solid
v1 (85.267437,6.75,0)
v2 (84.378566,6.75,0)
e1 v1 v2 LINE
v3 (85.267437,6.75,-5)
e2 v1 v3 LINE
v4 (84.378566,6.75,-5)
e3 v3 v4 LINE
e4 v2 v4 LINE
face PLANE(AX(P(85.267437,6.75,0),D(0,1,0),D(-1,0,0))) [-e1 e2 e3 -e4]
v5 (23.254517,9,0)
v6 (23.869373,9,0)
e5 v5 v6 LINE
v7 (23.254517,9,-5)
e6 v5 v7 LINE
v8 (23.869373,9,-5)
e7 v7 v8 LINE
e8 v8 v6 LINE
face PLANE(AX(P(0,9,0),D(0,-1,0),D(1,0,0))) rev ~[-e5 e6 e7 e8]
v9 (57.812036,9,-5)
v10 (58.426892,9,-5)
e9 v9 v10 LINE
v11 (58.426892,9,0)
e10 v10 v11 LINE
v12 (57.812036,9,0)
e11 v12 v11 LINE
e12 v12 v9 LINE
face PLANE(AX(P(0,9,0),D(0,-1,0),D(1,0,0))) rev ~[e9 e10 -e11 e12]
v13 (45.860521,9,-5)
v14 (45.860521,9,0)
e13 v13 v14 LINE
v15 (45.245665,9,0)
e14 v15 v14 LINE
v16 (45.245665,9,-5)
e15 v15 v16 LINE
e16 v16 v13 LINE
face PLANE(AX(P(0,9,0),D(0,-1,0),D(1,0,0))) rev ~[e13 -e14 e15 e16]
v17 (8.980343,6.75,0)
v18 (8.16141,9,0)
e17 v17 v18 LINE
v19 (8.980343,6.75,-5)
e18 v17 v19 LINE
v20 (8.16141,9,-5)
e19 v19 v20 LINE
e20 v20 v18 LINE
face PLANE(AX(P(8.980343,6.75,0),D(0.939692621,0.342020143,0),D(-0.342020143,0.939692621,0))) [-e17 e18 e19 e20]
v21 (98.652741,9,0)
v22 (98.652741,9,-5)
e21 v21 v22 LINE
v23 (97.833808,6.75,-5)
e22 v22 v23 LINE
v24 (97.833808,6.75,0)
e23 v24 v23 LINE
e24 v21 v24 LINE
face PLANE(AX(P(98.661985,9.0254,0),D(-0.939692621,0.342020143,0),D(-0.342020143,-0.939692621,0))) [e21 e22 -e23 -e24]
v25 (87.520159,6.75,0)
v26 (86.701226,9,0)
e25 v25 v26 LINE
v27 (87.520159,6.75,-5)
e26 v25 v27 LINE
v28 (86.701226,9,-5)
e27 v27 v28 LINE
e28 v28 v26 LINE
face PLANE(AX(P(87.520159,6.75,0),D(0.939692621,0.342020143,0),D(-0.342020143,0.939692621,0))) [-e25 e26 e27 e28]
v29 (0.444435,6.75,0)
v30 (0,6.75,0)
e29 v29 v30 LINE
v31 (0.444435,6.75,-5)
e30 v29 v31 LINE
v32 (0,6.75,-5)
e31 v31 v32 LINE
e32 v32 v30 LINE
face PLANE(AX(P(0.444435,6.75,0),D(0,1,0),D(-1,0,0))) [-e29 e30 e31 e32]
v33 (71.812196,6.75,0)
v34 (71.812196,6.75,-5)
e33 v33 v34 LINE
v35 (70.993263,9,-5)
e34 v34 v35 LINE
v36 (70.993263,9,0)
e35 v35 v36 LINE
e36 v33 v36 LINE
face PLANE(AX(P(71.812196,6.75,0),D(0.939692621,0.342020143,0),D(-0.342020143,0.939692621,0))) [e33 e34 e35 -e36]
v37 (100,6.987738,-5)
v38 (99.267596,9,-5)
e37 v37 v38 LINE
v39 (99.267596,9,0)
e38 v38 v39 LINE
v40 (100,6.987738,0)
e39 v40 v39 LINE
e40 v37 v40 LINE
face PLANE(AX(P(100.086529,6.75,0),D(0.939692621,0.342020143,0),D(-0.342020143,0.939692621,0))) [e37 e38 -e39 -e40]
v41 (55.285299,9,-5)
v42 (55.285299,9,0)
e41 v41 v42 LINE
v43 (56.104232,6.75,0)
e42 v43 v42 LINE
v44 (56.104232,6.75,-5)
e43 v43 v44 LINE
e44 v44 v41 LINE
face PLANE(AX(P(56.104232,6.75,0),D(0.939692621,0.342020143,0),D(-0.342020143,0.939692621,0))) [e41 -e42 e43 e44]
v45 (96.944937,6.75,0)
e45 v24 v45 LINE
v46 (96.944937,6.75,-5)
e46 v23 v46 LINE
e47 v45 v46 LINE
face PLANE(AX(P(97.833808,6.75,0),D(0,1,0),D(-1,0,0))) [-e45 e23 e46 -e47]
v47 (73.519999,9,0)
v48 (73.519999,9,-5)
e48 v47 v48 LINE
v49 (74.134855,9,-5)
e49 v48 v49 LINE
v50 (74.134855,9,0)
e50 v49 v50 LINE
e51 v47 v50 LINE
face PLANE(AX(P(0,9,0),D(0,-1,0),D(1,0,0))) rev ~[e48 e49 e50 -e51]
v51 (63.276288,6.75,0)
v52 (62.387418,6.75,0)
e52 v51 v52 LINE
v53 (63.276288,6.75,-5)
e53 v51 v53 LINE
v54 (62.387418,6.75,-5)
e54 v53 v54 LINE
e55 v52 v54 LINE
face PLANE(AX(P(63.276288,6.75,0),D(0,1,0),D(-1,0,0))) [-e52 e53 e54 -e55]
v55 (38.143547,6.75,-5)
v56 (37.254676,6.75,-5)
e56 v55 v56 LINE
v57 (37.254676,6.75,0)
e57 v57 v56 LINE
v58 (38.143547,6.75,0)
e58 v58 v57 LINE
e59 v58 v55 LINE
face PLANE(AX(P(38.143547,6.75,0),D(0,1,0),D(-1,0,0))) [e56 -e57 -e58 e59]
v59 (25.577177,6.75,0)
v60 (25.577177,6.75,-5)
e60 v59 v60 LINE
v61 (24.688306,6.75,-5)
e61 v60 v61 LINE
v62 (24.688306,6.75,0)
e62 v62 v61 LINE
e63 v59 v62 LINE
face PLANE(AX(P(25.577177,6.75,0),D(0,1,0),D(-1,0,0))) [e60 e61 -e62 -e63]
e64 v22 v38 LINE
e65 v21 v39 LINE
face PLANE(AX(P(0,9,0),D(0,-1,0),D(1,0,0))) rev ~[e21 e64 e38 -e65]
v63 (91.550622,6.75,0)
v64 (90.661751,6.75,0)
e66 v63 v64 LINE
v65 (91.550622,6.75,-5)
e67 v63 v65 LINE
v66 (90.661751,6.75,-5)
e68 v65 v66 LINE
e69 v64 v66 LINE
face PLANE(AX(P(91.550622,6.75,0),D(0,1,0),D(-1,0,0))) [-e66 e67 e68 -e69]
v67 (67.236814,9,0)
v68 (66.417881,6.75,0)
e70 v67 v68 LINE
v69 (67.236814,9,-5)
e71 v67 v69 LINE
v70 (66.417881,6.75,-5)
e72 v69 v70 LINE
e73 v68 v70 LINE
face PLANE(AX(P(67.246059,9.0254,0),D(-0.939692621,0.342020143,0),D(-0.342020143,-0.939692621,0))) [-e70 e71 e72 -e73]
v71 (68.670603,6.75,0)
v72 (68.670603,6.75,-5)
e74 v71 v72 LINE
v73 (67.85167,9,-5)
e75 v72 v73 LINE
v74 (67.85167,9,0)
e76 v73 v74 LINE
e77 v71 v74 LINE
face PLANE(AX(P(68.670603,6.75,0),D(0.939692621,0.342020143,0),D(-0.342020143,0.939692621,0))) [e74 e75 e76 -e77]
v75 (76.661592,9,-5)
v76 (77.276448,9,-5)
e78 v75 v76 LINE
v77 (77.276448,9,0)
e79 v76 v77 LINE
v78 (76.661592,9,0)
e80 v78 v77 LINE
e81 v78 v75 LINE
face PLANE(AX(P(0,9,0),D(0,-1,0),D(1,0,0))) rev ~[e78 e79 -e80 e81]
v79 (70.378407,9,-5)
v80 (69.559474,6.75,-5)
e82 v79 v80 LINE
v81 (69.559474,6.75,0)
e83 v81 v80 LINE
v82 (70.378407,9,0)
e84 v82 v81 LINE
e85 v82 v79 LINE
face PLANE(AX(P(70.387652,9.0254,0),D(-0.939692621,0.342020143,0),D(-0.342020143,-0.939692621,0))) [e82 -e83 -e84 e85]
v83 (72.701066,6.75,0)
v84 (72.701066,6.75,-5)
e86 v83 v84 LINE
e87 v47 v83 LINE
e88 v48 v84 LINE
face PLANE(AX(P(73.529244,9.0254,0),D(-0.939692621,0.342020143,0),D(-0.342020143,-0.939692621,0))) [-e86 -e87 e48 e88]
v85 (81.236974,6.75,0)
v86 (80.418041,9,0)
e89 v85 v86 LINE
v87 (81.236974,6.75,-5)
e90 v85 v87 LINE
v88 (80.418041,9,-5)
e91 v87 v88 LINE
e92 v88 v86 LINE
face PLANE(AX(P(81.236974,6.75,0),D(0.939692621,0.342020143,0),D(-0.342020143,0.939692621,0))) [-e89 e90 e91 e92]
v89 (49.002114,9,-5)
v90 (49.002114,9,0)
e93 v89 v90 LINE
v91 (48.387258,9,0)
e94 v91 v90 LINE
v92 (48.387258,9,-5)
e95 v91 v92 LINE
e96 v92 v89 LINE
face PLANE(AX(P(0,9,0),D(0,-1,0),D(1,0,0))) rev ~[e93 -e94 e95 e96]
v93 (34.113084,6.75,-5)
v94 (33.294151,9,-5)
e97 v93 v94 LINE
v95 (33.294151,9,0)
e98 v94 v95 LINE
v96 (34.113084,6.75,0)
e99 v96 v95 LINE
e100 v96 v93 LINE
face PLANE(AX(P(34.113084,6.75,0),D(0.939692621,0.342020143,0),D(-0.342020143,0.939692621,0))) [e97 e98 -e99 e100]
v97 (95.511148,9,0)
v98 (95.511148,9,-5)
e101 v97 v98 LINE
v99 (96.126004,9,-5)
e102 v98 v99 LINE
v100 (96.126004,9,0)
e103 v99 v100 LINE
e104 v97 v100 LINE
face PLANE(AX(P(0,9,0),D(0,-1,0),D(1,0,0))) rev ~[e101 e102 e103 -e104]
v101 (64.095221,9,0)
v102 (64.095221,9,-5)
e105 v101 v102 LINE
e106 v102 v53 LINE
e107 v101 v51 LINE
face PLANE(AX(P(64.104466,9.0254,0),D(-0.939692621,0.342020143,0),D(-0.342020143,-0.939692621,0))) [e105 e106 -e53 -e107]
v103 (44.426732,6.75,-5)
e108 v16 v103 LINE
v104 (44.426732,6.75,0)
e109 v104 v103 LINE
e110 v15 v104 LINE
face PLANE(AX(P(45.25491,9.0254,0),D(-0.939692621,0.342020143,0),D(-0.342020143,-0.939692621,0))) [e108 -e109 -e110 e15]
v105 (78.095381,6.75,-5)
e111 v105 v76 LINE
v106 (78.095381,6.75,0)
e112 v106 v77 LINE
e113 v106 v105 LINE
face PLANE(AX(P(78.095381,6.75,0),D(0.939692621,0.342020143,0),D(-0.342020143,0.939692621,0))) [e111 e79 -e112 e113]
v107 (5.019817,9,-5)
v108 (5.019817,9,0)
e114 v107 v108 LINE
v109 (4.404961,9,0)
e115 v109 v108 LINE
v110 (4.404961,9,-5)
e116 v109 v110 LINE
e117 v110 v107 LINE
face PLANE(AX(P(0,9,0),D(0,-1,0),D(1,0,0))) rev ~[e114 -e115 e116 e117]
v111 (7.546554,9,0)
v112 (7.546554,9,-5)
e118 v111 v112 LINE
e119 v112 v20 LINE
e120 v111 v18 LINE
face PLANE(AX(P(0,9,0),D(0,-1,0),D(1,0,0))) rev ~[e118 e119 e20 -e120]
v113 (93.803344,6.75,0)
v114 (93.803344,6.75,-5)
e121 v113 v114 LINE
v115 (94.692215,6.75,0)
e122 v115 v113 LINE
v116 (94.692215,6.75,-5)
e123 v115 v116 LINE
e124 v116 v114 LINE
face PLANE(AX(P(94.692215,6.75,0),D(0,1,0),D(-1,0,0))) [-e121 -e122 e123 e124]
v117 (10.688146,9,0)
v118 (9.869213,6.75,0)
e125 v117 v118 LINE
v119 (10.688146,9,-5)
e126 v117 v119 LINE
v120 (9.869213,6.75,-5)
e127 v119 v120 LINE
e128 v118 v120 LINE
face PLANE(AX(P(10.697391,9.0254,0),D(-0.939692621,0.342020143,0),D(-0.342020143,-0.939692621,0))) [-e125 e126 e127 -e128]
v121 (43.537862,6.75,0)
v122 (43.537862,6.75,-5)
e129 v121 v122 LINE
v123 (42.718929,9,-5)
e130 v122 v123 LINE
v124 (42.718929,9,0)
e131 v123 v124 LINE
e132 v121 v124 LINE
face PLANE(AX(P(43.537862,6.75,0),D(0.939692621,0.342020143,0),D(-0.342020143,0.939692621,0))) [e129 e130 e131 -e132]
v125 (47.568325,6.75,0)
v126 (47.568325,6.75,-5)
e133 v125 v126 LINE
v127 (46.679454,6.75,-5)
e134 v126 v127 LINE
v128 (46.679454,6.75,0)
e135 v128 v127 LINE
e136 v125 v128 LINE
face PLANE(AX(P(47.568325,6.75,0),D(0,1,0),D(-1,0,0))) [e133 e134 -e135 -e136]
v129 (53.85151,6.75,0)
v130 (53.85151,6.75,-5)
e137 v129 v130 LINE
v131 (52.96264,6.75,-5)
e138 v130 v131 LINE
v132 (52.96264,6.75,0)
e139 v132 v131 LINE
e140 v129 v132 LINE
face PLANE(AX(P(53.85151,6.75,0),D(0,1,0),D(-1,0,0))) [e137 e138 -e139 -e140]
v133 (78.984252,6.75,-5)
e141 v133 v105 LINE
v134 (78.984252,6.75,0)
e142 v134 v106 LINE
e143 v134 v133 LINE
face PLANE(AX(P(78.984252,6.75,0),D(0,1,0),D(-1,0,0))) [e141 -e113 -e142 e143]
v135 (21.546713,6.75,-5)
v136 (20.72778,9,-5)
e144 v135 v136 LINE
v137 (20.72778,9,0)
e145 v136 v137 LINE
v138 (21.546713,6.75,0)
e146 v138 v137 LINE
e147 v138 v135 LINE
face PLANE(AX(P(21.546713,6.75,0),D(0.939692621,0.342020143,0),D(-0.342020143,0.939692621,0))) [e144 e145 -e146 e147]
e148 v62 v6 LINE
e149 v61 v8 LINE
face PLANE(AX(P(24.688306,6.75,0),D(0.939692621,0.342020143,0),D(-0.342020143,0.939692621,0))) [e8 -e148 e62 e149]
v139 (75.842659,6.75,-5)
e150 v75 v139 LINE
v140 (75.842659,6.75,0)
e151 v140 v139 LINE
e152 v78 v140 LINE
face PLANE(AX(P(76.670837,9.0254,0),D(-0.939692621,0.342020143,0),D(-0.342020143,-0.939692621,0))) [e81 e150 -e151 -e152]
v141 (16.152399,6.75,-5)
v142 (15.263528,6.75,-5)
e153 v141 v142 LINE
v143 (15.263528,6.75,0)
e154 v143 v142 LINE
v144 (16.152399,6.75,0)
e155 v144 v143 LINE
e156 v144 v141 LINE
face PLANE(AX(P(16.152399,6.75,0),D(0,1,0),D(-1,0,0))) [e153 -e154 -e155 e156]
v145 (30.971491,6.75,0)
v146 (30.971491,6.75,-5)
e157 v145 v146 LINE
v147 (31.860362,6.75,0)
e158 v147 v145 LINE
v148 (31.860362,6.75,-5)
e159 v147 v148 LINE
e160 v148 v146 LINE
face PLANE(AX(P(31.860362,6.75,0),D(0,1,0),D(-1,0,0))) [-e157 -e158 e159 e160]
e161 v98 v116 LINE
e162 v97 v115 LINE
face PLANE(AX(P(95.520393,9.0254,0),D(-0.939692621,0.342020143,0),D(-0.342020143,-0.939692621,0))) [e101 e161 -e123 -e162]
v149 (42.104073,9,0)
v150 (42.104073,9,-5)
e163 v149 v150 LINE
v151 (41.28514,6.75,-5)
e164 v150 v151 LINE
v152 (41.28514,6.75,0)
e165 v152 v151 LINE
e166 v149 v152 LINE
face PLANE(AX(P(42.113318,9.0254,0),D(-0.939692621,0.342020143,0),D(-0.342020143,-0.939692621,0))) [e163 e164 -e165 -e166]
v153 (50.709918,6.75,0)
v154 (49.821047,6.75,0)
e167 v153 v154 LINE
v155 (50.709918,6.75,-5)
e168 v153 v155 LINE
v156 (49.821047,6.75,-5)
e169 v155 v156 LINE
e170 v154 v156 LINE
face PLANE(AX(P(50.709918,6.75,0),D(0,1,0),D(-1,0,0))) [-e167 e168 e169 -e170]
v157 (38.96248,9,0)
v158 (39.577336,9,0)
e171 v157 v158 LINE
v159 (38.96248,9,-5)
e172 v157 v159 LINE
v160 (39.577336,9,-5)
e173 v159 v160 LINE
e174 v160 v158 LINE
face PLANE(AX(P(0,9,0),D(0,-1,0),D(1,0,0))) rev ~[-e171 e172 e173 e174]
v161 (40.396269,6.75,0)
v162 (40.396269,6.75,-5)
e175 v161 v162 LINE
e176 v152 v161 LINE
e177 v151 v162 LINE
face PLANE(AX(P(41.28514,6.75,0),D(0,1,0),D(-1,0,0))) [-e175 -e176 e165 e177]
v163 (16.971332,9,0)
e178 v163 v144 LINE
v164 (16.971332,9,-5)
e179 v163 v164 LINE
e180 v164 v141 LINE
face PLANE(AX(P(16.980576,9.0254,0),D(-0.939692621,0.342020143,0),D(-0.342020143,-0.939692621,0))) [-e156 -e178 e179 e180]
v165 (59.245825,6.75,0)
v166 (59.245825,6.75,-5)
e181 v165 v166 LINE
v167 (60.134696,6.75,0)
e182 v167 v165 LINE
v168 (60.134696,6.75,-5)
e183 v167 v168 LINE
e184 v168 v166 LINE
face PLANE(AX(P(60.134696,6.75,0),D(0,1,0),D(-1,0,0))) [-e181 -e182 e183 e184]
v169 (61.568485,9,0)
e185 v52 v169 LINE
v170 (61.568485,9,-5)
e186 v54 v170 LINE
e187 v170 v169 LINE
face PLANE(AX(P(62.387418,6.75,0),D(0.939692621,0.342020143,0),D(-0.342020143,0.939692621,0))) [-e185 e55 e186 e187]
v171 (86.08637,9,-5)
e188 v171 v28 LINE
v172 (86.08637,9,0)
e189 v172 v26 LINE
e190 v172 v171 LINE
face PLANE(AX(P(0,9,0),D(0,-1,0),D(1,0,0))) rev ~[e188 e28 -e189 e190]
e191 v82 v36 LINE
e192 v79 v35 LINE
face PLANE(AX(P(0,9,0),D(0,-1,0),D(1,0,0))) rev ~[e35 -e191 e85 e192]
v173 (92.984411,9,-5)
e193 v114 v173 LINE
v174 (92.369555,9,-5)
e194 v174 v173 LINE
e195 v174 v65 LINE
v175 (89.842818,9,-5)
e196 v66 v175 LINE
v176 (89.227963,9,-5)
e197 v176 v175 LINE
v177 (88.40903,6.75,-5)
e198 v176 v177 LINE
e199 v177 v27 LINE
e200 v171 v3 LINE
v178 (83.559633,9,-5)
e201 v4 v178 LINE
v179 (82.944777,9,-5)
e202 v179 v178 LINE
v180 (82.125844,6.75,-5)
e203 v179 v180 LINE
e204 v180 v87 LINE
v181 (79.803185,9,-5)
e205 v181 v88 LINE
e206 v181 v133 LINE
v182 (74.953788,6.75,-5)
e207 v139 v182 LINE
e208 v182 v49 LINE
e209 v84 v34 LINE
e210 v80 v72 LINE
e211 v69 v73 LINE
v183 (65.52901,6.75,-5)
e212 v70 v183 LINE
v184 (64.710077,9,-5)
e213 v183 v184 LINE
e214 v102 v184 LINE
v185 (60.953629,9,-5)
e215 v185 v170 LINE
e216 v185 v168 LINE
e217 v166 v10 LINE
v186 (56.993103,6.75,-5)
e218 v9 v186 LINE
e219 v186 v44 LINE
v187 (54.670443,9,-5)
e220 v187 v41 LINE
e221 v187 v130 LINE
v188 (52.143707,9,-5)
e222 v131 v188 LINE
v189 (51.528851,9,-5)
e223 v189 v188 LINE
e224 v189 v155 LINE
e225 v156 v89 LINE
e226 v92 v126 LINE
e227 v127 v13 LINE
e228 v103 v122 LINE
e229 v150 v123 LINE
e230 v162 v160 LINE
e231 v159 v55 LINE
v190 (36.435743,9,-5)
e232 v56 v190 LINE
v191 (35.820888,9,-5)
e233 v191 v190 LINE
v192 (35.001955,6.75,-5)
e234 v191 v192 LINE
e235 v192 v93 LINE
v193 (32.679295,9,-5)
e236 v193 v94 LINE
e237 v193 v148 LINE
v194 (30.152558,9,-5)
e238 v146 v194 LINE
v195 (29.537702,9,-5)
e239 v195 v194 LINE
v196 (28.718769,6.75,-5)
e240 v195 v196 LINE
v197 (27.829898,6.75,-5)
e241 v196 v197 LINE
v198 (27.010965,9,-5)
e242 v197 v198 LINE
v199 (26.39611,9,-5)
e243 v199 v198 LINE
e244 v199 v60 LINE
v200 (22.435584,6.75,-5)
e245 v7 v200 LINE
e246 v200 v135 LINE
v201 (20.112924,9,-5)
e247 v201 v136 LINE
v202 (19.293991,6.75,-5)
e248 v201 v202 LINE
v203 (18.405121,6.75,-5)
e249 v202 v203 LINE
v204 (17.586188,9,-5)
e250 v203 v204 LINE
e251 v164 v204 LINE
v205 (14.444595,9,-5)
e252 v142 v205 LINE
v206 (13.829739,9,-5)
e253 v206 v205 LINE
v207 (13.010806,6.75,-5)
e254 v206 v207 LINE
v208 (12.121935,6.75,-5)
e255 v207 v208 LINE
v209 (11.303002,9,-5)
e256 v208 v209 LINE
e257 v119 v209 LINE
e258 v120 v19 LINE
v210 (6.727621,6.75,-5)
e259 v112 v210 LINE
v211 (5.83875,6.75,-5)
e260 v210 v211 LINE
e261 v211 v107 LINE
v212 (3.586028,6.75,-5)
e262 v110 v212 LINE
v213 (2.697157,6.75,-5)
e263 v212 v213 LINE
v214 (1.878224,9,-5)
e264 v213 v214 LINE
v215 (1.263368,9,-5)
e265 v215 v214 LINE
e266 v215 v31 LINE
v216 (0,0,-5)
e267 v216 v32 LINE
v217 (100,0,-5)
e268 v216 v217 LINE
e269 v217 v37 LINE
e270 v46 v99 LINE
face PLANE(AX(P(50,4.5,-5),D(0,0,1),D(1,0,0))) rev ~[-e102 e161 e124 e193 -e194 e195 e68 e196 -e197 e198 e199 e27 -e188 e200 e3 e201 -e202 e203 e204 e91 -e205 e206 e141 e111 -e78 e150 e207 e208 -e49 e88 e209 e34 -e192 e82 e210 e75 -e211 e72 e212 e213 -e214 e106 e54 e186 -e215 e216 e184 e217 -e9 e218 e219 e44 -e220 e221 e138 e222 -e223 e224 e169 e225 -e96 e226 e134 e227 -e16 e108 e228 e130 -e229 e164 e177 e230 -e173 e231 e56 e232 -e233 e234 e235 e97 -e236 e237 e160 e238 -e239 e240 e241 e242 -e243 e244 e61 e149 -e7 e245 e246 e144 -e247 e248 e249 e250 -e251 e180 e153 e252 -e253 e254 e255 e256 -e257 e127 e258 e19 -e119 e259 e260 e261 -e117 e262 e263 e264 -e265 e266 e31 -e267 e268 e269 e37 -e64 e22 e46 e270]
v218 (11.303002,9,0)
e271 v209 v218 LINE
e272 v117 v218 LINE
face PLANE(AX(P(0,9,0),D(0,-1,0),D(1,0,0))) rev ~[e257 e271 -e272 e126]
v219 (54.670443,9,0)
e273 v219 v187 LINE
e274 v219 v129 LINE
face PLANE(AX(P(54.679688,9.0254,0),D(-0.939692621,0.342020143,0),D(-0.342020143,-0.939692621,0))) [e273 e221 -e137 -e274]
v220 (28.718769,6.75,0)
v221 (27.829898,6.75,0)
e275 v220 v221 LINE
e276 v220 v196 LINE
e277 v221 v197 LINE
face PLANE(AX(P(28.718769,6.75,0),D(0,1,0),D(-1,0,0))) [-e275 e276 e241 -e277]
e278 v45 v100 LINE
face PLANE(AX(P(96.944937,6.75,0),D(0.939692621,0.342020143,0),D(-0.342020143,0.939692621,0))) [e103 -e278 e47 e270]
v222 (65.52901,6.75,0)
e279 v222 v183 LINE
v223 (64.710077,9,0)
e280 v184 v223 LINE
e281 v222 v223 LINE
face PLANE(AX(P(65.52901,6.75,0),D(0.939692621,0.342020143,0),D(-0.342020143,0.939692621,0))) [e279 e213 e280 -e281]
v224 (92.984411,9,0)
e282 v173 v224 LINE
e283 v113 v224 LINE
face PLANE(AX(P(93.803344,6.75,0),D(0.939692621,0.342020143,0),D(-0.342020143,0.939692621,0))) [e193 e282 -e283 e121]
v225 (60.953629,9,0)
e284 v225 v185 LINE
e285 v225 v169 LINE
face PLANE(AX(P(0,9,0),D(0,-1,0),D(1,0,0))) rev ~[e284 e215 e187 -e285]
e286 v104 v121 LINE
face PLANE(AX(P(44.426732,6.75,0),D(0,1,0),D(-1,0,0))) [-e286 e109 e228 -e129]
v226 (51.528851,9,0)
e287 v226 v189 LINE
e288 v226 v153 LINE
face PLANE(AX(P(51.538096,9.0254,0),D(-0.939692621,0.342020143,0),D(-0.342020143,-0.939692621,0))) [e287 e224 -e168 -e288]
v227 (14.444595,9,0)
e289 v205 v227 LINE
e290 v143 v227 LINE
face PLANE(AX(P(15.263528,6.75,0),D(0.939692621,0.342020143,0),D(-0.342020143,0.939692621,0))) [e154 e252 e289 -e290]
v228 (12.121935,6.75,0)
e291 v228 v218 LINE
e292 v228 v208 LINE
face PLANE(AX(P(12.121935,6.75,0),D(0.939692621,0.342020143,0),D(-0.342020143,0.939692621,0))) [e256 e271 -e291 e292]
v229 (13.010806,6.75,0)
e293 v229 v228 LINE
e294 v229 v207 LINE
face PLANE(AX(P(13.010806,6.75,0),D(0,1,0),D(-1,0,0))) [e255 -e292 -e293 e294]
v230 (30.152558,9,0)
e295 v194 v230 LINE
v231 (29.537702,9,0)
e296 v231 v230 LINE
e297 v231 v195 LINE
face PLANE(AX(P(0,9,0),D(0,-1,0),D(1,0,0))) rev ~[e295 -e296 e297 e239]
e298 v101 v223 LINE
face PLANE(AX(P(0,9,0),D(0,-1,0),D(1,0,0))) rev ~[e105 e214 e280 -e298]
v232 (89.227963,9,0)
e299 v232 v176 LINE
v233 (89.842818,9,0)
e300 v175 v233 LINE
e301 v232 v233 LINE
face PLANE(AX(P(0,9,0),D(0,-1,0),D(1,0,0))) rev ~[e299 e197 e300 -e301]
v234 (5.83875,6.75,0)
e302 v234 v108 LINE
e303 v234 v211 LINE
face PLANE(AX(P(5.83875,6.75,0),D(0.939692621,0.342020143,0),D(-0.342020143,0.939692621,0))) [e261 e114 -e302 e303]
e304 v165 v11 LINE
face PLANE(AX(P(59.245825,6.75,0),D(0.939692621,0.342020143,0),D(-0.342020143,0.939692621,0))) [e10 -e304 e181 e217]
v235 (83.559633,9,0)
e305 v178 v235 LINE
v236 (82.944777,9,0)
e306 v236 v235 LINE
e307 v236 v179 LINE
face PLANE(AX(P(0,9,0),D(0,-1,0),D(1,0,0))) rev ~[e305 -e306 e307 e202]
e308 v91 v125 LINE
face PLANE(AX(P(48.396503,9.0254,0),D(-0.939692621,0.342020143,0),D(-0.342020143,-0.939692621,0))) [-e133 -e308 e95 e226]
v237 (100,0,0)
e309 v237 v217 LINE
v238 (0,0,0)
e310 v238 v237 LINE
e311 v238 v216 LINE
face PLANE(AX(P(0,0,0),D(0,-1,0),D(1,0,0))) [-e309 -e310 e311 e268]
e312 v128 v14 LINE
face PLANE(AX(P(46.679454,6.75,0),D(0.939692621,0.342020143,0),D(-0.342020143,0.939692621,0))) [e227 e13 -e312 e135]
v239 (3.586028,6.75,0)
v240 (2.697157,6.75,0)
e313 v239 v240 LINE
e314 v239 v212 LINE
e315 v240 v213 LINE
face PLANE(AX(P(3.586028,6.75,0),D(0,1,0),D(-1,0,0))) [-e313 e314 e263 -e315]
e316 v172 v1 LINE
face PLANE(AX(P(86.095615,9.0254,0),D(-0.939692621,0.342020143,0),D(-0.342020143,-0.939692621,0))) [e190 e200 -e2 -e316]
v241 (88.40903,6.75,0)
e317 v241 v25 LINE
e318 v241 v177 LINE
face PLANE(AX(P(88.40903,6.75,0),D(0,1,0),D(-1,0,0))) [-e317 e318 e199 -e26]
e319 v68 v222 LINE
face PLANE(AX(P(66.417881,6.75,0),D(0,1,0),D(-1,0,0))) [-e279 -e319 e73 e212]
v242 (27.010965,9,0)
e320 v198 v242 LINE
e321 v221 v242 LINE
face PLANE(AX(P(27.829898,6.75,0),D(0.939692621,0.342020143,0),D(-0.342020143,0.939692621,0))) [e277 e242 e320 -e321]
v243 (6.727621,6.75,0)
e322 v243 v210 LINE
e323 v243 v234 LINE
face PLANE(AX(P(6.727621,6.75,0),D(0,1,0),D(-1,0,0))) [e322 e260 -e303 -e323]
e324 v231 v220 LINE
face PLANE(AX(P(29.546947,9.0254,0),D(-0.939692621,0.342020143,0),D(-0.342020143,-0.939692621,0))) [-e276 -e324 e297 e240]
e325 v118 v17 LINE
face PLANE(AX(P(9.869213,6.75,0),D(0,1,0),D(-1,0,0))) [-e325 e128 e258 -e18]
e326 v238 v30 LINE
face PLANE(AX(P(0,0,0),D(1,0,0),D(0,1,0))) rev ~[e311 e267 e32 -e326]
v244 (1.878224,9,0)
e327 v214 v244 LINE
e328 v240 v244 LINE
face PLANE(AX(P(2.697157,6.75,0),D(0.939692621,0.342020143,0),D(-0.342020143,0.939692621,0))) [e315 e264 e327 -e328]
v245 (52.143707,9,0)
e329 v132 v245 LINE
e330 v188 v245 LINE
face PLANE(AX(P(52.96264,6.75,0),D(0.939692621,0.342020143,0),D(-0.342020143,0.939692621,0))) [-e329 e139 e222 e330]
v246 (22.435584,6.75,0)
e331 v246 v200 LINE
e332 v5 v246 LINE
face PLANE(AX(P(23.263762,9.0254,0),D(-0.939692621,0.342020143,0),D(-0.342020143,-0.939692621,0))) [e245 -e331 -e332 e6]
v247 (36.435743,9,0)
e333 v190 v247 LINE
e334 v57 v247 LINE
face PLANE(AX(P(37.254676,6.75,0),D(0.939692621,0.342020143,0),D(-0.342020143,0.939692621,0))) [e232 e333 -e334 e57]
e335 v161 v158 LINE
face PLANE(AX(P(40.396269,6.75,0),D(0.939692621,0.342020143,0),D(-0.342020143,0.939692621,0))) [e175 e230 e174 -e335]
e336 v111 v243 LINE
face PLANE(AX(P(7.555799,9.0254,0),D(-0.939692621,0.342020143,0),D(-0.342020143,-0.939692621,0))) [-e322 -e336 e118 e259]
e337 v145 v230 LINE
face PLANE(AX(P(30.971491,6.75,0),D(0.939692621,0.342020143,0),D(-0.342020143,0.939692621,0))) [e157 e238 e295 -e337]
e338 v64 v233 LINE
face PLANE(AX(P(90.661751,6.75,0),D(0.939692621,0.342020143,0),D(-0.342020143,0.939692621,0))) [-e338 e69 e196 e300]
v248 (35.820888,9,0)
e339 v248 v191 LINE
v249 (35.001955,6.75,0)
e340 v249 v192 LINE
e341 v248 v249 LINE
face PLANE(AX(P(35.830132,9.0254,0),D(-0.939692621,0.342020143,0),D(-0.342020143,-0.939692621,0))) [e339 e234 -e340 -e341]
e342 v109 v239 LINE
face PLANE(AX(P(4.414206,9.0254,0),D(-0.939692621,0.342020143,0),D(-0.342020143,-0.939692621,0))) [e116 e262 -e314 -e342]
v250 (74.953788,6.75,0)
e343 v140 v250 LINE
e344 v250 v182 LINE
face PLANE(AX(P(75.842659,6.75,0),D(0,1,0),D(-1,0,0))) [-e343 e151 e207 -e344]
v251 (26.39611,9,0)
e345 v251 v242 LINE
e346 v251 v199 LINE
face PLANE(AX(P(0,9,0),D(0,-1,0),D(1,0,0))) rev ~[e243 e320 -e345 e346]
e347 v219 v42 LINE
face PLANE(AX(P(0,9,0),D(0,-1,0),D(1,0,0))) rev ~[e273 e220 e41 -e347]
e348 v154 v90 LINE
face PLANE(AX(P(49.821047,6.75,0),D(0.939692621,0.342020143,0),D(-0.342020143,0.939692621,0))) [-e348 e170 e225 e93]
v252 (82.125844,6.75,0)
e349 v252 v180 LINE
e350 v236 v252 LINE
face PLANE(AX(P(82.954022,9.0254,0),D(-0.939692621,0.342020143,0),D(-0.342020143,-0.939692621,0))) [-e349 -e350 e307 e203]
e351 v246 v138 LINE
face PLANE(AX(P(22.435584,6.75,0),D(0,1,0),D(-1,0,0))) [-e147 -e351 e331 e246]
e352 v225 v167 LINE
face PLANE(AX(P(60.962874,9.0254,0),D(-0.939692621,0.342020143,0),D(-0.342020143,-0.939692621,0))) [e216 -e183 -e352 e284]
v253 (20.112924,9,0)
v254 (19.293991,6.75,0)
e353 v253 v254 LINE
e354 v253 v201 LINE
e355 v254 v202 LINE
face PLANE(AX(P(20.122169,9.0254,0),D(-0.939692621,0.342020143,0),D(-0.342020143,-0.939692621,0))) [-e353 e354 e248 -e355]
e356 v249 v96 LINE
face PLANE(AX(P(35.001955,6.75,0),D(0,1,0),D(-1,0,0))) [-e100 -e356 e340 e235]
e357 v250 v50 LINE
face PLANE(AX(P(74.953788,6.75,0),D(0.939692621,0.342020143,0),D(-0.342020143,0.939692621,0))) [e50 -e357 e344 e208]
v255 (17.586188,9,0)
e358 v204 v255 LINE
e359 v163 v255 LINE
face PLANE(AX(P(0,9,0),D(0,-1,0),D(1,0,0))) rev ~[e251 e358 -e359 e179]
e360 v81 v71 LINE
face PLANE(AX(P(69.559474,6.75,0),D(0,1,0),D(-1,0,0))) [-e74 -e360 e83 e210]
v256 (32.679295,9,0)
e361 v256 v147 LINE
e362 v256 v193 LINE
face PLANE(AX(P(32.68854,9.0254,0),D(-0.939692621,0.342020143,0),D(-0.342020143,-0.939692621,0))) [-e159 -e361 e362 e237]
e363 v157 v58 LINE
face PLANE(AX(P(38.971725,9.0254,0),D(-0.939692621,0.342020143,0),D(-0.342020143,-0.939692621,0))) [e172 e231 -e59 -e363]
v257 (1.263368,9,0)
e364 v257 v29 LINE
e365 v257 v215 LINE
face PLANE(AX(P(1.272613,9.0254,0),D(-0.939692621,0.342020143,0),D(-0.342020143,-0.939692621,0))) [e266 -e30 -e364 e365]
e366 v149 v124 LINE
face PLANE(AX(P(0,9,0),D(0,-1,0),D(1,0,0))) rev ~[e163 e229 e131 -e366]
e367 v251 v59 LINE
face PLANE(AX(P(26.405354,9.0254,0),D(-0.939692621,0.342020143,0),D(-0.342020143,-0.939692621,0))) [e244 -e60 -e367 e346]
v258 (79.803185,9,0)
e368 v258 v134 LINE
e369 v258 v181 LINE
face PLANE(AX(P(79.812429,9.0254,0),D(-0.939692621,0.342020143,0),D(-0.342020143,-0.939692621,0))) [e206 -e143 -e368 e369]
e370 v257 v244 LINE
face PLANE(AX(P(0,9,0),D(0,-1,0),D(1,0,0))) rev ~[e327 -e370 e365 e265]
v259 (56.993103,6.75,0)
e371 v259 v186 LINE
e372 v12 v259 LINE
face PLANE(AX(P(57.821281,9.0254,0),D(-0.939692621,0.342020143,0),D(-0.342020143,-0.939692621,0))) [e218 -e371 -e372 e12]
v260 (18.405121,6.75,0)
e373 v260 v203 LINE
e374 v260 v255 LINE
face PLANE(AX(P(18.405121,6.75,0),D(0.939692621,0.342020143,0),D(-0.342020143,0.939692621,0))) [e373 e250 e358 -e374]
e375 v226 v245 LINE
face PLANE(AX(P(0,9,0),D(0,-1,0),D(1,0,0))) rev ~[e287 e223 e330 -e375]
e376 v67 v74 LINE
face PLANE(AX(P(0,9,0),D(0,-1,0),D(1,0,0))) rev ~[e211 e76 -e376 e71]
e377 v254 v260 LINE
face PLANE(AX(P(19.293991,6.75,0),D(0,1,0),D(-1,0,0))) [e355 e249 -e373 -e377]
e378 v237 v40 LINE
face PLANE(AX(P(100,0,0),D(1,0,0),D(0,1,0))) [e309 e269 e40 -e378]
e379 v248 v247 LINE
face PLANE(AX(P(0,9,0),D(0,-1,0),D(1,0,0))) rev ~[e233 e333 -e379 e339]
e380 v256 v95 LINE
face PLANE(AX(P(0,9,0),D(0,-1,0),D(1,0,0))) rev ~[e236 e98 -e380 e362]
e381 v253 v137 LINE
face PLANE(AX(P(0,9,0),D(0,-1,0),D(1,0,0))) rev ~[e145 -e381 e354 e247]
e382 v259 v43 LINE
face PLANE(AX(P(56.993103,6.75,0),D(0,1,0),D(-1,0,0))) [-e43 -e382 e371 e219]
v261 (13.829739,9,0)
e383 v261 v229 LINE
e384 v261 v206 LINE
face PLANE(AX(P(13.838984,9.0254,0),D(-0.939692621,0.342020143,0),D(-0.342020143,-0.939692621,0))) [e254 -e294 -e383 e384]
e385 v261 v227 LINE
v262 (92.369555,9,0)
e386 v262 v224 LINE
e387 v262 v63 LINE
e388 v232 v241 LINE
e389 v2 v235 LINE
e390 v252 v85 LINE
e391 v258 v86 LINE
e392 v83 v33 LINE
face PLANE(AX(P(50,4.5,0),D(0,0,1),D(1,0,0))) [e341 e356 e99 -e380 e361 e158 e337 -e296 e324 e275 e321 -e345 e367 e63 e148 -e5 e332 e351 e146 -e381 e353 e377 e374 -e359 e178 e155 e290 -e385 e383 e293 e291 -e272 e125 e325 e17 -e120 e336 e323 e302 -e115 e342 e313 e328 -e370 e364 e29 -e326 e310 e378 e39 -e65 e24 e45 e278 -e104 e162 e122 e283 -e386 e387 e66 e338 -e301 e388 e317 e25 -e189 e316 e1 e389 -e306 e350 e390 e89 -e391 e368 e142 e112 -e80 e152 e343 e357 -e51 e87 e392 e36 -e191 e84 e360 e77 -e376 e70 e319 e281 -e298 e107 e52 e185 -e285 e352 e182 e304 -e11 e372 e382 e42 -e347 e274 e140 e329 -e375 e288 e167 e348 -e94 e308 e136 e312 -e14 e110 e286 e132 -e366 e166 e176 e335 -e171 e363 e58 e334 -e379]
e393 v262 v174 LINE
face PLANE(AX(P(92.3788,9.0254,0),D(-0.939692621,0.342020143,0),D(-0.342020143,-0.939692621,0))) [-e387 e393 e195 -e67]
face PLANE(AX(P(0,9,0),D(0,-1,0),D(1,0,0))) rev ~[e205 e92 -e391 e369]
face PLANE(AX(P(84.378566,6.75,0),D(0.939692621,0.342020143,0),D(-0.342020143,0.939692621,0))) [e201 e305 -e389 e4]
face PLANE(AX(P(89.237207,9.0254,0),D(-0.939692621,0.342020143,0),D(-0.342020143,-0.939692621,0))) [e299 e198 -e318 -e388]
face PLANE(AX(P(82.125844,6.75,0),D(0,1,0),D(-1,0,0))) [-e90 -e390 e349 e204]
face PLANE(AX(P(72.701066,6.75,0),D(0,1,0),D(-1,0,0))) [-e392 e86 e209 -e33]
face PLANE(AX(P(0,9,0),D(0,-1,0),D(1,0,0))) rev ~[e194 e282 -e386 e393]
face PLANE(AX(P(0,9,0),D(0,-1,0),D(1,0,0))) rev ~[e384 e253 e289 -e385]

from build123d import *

# Parameters (mm, degrees)
BLANKSKE_W        = 100
BLANKSKE_H        = 9
BLANK_DEPTH       = 5
TOOTHCUTSIM_DEPTH = 101.528602895
TEETHCUTS_COUNT   = 33
TEETHCUTS_PITCH   = 3.14159265


with BuildPart() as part:
    # BlankSke → Blank (new body)
    with BuildSketch(Plane.XY):
        with Locations((50, 4.5)):
            Rectangle(BLANKSKE_W, BLANKSKE_H)
    extrude(amount=-BLANK_DEPTH)

    # TooCutSkeSim → ToothCutSim (cut, through all)
    with BuildSketch(Plane.XY):
        Polygon((0.44443537, 6.75), (-0.44443537, 6.75), (-1.272613241, 9.0254), (1.272613241, 9.0254), align=None)
    toothcutsim = extrude(amount=-TOOTHCUTSIM_DEPTH, mode=Mode.SUBTRACT)

    # TeethCuts: ToothCutSim ×33
    with Locations(*[(i * TEETHCUTS_PITCH, 0, 0) for i in range(1, TEETHCUTS_COUNT)]):
        add(toothcutsim, mode=Mode.SUBTRACT)


solid = part.part
